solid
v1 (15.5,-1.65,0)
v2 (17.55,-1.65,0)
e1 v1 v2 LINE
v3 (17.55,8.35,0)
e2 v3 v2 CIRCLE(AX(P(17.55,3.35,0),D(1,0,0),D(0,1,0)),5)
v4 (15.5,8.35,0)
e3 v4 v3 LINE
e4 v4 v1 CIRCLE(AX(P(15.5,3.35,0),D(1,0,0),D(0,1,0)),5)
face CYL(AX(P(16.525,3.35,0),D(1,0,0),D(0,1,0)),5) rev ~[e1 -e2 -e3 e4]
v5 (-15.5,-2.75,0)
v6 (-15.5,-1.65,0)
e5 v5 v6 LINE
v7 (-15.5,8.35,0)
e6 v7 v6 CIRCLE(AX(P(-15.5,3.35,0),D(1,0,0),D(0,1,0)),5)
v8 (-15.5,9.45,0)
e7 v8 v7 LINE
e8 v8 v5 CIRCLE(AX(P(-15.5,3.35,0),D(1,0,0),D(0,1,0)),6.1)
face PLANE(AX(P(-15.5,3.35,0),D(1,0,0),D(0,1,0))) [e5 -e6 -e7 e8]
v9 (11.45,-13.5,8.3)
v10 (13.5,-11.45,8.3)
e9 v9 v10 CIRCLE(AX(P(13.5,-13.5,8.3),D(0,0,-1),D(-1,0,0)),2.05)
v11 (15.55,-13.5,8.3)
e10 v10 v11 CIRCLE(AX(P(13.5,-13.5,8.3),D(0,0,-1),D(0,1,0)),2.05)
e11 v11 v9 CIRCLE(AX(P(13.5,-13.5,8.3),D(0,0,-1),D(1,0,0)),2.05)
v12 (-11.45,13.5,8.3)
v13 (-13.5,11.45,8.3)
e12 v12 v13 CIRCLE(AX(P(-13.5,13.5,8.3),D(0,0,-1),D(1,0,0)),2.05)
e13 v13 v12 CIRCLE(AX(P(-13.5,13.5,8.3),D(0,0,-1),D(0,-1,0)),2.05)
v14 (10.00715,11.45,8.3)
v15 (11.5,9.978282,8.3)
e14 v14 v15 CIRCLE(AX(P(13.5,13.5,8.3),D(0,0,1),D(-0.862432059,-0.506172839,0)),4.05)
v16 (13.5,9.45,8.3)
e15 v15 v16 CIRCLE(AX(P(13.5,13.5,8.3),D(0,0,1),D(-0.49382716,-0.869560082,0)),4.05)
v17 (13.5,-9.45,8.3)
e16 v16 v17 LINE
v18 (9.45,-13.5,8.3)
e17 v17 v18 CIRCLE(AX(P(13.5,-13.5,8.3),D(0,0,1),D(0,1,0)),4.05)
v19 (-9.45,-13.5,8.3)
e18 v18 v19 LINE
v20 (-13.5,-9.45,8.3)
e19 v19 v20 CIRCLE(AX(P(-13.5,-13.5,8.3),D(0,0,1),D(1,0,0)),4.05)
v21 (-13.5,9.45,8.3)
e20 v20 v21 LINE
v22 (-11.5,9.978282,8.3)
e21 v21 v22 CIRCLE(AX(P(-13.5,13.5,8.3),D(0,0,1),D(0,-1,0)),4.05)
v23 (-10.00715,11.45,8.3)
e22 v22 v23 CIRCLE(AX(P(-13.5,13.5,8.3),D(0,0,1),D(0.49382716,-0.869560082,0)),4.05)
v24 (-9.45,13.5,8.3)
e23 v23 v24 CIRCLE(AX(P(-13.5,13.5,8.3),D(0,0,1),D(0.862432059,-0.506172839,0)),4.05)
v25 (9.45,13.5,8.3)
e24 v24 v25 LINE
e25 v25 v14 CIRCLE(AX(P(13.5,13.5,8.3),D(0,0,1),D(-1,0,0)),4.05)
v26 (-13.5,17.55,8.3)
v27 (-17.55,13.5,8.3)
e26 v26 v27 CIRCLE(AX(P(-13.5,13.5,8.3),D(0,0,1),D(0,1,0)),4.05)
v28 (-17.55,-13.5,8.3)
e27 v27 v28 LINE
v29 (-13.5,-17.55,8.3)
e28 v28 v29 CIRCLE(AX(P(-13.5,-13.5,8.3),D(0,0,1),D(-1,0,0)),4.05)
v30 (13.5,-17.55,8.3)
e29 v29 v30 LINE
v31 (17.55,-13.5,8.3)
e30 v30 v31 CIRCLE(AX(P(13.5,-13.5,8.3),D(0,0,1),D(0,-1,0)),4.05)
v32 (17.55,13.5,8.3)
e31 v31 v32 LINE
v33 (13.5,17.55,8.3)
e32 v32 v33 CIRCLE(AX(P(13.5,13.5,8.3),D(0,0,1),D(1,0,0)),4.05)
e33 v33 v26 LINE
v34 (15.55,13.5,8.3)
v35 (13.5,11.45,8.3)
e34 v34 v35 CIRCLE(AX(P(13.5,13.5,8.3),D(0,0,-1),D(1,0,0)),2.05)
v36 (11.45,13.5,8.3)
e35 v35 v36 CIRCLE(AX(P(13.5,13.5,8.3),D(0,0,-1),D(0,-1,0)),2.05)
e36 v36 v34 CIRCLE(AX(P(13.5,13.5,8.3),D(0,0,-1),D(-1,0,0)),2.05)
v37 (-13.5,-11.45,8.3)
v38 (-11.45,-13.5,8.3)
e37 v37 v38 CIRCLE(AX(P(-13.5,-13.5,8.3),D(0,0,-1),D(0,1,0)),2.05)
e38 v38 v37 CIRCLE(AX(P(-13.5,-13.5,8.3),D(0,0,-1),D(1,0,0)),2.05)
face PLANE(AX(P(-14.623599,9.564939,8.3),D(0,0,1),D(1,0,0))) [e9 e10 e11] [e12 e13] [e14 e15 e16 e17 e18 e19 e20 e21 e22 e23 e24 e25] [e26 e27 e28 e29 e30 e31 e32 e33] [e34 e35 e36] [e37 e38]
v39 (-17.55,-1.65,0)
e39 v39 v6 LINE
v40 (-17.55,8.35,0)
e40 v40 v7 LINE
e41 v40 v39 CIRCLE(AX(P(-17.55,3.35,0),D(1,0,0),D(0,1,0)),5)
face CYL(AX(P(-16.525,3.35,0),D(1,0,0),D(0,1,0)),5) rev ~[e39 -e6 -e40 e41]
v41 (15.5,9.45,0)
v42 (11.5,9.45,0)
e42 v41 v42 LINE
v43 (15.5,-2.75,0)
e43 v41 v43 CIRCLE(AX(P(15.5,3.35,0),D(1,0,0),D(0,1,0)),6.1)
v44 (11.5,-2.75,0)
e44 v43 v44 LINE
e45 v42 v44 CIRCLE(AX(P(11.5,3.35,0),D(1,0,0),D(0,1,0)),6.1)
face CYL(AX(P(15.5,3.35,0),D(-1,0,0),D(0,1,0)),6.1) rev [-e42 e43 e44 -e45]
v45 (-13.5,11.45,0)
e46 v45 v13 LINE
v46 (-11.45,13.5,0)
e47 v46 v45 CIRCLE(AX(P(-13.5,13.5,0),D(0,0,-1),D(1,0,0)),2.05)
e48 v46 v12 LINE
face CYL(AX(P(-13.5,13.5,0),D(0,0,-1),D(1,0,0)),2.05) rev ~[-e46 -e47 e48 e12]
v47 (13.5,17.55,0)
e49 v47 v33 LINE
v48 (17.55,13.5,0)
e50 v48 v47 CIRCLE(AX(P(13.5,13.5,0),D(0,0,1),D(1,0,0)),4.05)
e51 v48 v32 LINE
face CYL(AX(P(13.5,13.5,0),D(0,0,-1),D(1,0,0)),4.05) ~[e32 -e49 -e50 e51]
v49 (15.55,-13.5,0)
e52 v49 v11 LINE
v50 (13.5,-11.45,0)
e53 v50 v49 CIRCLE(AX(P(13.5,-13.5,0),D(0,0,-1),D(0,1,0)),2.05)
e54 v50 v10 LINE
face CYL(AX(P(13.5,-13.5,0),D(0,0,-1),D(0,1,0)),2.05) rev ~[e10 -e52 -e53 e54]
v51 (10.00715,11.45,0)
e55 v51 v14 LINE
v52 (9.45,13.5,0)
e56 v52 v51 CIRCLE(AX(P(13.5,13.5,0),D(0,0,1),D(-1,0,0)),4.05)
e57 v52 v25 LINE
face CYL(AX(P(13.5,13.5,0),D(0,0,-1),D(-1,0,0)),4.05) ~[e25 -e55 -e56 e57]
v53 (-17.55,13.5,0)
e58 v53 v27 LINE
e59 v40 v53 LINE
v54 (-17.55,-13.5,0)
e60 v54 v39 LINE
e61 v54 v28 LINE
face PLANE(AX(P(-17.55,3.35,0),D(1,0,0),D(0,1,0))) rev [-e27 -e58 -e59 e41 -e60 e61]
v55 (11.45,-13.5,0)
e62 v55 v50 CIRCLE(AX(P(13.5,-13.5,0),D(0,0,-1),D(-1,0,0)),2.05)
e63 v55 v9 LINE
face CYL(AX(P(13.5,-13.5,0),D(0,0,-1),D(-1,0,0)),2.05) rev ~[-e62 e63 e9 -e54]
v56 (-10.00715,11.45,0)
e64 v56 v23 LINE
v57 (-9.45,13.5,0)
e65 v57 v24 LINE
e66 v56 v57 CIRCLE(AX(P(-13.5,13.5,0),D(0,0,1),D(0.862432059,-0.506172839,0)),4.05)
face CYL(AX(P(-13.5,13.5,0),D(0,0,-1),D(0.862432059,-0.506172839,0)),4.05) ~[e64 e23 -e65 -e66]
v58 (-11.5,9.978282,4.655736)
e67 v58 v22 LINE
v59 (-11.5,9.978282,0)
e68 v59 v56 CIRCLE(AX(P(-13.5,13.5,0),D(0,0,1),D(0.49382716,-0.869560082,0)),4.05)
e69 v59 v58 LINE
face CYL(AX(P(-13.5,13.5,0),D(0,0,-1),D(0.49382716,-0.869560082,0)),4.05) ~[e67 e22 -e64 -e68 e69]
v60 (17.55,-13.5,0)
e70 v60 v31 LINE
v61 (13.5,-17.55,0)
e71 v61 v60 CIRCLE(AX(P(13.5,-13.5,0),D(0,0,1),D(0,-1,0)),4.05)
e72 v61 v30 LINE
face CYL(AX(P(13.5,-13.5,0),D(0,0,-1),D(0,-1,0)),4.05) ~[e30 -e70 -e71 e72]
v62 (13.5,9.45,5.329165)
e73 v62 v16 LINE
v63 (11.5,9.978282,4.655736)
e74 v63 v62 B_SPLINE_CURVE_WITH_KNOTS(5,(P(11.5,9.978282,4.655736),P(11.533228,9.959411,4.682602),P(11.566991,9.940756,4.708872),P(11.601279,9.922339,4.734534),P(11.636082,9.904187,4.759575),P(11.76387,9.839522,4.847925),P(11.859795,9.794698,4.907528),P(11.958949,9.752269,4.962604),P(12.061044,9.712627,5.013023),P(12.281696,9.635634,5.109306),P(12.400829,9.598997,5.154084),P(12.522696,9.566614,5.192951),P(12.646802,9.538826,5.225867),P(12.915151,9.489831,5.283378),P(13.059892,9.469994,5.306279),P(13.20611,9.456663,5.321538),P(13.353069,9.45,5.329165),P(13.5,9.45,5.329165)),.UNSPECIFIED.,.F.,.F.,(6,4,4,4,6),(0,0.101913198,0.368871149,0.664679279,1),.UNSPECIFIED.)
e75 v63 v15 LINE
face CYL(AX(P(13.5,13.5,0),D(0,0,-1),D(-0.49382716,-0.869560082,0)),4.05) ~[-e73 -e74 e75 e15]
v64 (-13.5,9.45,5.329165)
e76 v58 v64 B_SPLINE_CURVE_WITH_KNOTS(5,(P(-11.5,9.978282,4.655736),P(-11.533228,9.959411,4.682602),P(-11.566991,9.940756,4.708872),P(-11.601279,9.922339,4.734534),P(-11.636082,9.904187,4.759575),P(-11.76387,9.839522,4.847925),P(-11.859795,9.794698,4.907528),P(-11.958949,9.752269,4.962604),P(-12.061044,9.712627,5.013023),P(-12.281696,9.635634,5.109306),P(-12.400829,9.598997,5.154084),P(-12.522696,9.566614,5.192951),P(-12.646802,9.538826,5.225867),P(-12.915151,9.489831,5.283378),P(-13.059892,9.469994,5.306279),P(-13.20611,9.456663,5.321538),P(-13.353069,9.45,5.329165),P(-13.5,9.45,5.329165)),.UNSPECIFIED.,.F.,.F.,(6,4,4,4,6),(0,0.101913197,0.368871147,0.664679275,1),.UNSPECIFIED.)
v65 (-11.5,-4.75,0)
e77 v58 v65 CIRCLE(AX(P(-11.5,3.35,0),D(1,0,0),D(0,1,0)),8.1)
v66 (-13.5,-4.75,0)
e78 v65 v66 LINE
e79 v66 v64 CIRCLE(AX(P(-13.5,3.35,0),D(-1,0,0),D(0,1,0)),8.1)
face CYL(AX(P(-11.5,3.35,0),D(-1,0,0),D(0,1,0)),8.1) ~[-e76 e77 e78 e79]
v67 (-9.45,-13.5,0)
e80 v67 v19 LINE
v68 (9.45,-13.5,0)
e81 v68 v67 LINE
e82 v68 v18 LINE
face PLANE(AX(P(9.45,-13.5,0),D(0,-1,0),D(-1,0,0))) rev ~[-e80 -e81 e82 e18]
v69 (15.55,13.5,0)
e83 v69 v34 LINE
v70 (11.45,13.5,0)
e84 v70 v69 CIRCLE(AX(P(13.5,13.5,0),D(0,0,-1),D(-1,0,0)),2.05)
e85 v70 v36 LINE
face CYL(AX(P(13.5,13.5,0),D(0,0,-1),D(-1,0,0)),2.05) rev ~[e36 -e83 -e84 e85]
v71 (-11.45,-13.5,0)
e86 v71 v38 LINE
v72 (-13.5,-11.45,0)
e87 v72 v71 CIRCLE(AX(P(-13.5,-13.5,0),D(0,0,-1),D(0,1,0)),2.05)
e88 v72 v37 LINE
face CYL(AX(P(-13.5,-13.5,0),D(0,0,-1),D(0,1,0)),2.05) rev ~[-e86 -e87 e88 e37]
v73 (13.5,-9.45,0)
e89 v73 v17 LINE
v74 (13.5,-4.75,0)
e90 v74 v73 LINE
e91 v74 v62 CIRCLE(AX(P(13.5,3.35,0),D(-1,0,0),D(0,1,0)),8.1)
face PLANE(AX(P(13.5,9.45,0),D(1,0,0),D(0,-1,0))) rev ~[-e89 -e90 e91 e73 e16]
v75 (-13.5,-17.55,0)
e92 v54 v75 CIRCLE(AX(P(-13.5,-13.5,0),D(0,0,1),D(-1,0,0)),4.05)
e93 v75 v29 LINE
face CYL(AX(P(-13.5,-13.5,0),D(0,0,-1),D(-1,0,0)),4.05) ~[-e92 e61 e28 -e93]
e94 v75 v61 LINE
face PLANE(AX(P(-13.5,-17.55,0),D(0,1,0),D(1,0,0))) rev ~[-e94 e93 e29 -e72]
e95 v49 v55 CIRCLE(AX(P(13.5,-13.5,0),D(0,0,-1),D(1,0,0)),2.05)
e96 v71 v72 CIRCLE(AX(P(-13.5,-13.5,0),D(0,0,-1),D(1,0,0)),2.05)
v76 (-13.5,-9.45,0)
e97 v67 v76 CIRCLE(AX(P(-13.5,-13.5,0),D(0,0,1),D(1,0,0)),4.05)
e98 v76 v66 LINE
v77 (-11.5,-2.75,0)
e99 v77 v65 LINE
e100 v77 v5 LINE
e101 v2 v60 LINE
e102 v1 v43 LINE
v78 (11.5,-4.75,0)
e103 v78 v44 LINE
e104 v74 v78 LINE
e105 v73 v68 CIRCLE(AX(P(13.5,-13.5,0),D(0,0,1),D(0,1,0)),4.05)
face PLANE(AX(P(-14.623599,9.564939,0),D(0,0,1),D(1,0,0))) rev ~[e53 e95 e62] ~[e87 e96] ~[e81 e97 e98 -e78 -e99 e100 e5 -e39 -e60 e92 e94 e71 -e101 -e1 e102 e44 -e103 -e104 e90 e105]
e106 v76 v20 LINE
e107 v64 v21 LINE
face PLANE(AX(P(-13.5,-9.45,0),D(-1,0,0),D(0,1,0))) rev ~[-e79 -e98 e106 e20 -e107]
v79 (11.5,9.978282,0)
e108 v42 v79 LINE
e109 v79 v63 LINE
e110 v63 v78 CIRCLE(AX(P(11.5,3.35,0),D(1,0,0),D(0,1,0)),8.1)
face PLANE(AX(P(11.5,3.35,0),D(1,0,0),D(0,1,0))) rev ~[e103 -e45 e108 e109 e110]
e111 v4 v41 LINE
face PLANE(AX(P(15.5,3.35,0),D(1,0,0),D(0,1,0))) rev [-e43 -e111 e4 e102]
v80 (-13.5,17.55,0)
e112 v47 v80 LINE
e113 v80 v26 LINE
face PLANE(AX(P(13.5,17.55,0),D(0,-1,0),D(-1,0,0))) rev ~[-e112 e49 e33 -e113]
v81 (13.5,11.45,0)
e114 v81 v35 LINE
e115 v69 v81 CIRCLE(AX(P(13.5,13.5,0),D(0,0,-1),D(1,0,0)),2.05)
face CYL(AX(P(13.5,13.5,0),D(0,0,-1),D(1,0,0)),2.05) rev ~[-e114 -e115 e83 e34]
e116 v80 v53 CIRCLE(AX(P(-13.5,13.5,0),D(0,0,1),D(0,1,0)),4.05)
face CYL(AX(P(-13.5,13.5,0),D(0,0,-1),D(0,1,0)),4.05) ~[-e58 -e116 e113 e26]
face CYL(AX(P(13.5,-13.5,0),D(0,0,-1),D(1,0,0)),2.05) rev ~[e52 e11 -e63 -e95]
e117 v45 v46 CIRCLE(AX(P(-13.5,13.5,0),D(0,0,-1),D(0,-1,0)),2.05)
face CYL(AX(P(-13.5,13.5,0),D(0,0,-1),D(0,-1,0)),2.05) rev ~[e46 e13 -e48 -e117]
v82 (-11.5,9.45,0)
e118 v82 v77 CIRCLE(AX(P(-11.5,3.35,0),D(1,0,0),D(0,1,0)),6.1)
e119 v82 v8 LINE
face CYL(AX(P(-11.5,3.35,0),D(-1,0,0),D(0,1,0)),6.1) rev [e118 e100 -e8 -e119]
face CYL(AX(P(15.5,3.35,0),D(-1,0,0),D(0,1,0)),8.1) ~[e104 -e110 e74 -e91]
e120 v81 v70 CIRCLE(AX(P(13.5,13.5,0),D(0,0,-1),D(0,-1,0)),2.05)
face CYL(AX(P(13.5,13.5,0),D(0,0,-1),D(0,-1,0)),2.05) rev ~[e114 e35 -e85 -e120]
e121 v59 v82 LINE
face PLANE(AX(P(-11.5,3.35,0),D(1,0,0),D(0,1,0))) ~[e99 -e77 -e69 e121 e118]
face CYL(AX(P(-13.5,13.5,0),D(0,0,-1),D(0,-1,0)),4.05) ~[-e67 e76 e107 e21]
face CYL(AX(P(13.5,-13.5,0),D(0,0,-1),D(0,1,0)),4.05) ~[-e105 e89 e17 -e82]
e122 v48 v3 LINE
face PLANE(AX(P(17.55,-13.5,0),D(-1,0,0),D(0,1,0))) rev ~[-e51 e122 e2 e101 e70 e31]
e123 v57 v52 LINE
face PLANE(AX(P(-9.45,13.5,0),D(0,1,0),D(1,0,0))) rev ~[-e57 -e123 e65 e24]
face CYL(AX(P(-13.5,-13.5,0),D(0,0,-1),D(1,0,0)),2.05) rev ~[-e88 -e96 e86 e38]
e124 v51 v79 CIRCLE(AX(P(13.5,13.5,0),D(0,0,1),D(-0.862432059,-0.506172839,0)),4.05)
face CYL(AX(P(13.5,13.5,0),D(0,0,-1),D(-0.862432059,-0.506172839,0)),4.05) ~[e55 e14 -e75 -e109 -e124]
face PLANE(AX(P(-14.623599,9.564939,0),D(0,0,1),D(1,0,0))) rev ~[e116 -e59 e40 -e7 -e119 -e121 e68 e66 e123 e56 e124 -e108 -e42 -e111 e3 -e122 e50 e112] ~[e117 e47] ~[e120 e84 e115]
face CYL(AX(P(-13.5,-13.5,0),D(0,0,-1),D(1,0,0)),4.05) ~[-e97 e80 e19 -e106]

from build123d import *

# Parameters (mm, degrees)
F0_W     = 2
F0_H     = 6.1
F0_H_2   = 2
F0_W_2   = 2.05
F0_H_3   = 5
F1_DEPTH = 8.3
F2_ANGLE = 180
F3_ANGLE = 180


with BuildPart() as f1:
    # F0 (on Top) → F1 (new body)
    with BuildSketch(Plane.XY):
        with BuildLine():
            ThreePointArc((-13.5, 9.45), (-14.5342970466, 9.5842970466), (-15.5, 9.9782816694))
            Line((-15.5, 9.9782816694), (-15.5, 9.45))
            Line((-15.5, 9.45), (-13.5, 9.45))
        make_face()
        with BuildLine():
            ThreePointArc((-9.45, 13.5), (-10.6362175362, 16.3637824638), (-13.5, 17.55))
            ThreePointArc((-13.5, 17.55), (-16.3637824638, 16.3637824638), (-17.55, 13.5))
            ThreePointArc((-17.55, 13.5), (-17.0001785669, 11.4625383439), (-15.5, 9.9782816694))
            Line((-15.5, 9.9782816694), (-15.5, 11.45))
            Line((-15.5, 11.45), (-13.5, 11.45))
            ThreePointArc((-13.5, 11.45), (-14.9495689014, 14.9495689014), (-11.45, 13.5))
            Line((-11.45, 13.5), (-9.45, 13.5))
        make_face()
        with BuildLine():
            Line((-15.5, 11.45), (-15.5, 9.9782816694))
            ThreePointArc((-15.5, 9.9782816694), (-14.5342970466, 9.5842970466), (-13.5, 9.45))
            Line((-13.5, 9.45), (-13.5, 11.45))
            Line((-13.5, 11.45), (-15.5, 11.45))
        make_face()
        with BuildLine():
            ThreePointArc((-15.5, 9.9782816694), (-17.0001785669, 11.4625383439), (-17.55, 13.5))
            Line((-17.55, 13.5), (-17.55, 8.35))
            Line((-17.55, 8.35), (-15.5, 8.35))
            Line((-15.5, 8.35), (-15.5, 9.45))
            Line((-15.5, 9.45), (-15.5, 9.9782816694))
        make_face()
        with Locations((-14.5, 0.3)):
            Rectangle(F0_W, F0_H)
        with Locations((-14.5, -3.75)):
            Rectangle(F0_W, F0_H_2)
        with BuildLine():
            ThreePointArc((-13.5, -9.45), (-16.3637824638, -10.6362175362), (-17.55, -13.5))
            ThreePointArc((-17.55, -13.5), (-16.3637824638, -16.3637824638), (-13.5, -17.55))
            ThreePointArc((-13.5, -17.55), (-10.6362175362, -16.3637824638), (-9.45, -13.5))
            Line((-9.45, -13.5), (-11.45, -13.5))
            ThreePointArc((-11.45, -13.5), (-14.9495689014, -14.9495689014), (-13.5, -11.45))
            Line((-13.5, -11.45), (-13.5, -9.45))
        make_face()
        with BuildLine():
            Line((-13.5, -17.55), (13.5, -17.55))
            ThreePointArc((13.5, -17.55), (10.6362175362, -16.3637824638), (9.45, -13.5))
            Line((9.45, -13.5), (-9.45, -13.5))
            ThreePointArc((-9.45, -13.5), (-10.6362175362, -16.3637824638), (-13.5, -17.55))
        make_face()
        with BuildLine():
            ThreePointArc((-9.45, -13.5), (-10.6362175362, -10.6362175362), (-13.5, -9.45))
            Line((-13.5, -9.45), (-13.5, -11.45))
            ThreePointArc((-13.5, -11.45), (-12.0504310986, -12.0504310986), (-11.45, -13.5))
            Line((-11.45, -13.5), (-9.45, -13.5))
        make_face()
        with BuildLine():
            ThreePointArc((13.5, -17.55), (16.3637824638, -16.3637824638), (17.55, -13.5))
            ThreePointArc((17.55, -13.5), (16.3637824638, -10.6362175362), (13.5, -9.45))
            Line((13.5, -9.45), (13.5, -11.45))
            ThreePointArc((13.5, -11.45), (14.9495689014, -12.0504310986), (15.55, -13.5))
            ThreePointArc((15.55, -13.5), (13.5, -15.55), (11.45, -13.5))
            Line((11.45, -13.5), (9.45, -13.5))
            ThreePointArc((9.45, -13.5), (10.6362175362, -16.3637824638), (13.5, -17.55))
        make_face()
        with BuildLine():
            Line((13.5, -11.45), (13.5, -9.45))
            ThreePointArc((13.5, -9.45), (10.6362175362, -10.6362175362), (9.45, -13.5))
            Line((9.45, -13.5), (11.45, -13.5))
            ThreePointArc((11.45, -13.5), (12.0504310986, -12.0504310986), (13.5, -11.45))
        make_face()
        with BuildLine():
            Line((17.55, 8.35), (17.55, 13.5))
            ThreePointArc((17.55, 13.5), (17.0001785669, 11.4625383439), (15.5, 9.9782816694))
            Line((15.5, 9.9782816694), (15.5, 9.45))
            Line((15.5, 9.45), (15.5, 8.35))
            Line((15.5, 8.35), (17.55, 8.35))
        make_face()
        with Locations((14.5, -3.75)):
            Rectangle(F0_W, F0_H_2)
        with Locations((14.5, 0.3)):
            Rectangle(F0_W, F0_H)
        with BuildLine():
            Line((15.5, 9.45), (15.5, 9.9782816694))
            ThreePointArc((15.5, 9.9782816694), (14.5342970466, 9.5842970466), (13.5, 9.45))
            Line((13.5, 9.45), (15.5, 9.45))
        make_face()
        with BuildLine():
            ThreePointArc((13.5, 9.45), (14.5342970466, 9.5842970466), (15.5, 9.9782816694))
            Line((15.5, 9.9782816694), (15.5, 11.45))
            Line((15.5, 11.45), (13.5, 11.45))
            Line((13.5, 11.45), (13.5, 9.45))
        make_face()
        with BuildLine():
            ThreePointArc((11.5, 9.9782816694), (12.4657029534, 9.5842970466), (13.5, 9.45))
            Line((13.5, 9.45), (13.5, 11.45))
            Line((13.5, 11.45), (11.5, 11.45))
            Line((11.5, 11.45), (11.5, 9.9782816694))
        make_face()
        with BuildLine():
            Line((11.5, 11.45), (10.0071501607, 11.45))
            ThreePointArc((10.0071501607, 11.45), (10.6567028733, 10.6158776986), (11.5, 9.9782816694))
            Line((11.5, 9.9782816694), (11.5, 11.45))
        make_face()
        with BuildLine():
            Line((11.45, 13.5), (9.45, 13.5))
            ThreePointArc((9.45, 13.5), (9.5917688241, 12.4378187182), (10.0071501607, 11.45))
            Line((10.0071501607, 11.45), (11.5, 11.45))
            Line((11.5, 11.45), (13.5, 11.45))
            ThreePointArc((13.5, 11.45), (12.0504310986, 12.0504310986), (11.45, 13.5))
        make_face()
        with BuildLine():
            ThreePointArc((17.55, 13.5), (16.3637824638, 16.3637824638), (13.5, 17.55))
            ThreePointArc((13.5, 17.55), (10.6362175362, 16.3637824638), (9.45, 13.5))
            Line((9.45, 13.5), (11.45, 13.5))
            ThreePointArc((11.45, 13.5), (13.5, 15.55), (15.55, 13.5))
            ThreePointArc((15.55, 13.5), (14.9495689014, 12.0504310986), (13.5, 11.45))
            Line((13.5, 11.45), (15.5, 11.45))
            Line((15.5, 11.45), (15.5, 9.9782816694))
            ThreePointArc((15.5, 9.9782816694), (17.0001785669, 11.4625383439), (17.55, 13.5))
        make_face()
        with BuildLine():
            ThreePointArc((9.45, 13.5), (10.6362175362, 16.3637824638), (13.5, 17.55))
            Line((13.5, 17.55), (-13.5, 17.55))
            ThreePointArc((-13.5, 17.55), (-10.6362175362, 16.3637824638), (-9.45, 13.5))
            Line((-9.45, 13.5), (9.45, 13.5))
        make_face()
        with BuildLine():
            ThreePointArc((-10.0071501607, 11.45), (-9.5917688241, 12.4378187182), (-9.45, 13.5))
            Line((-9.45, 13.5), (-11.45, 13.5))
            ThreePointArc((-11.45, 13.5), (-12.0504310986, 12.0504310986), (-13.5, 11.45))
            Line((-13.5, 11.45), (-11.5, 11.45))
            Line((-11.5, 11.45), (-10.0071501607, 11.45))
        make_face()
        with BuildLine():
            Line((-11.5, 11.45), (-13.5, 11.45))
            Line((-13.5, 11.45), (-13.5, 9.45))
            ThreePointArc((-13.5, 9.45), (-12.4657029534, 9.5842970466), (-11.5, 9.9782816694))
            Line((-11.5, 9.9782816694), (-11.5, 11.45))
        make_face()
        with BuildLine():
            ThreePointArc((-11.5, 9.9782816694), (-10.6567028733, 10.6158776986), (-10.0071501607, 11.45))
            Line((-10.0071501607, 11.45), (-11.5, 11.45))
            Line((-11.5, 11.45), (-11.5, 9.9782816694))
        make_face()
        with BuildLine():
            Line((-15.5, 3.35), (-17.55, 3.35))
            Line((-17.55, 3.35), (-17.55, -13.5))
            ThreePointArc((-17.55, -13.5), (-16.3637824638, -10.6362175362), (-13.5, -9.45))
            Line((-13.5, -9.45), (-13.5, -4.75))
            Line((-13.5, -4.75), (-15.5, -4.75))
            Line((-15.5, -4.75), (-15.5, -2.75))
            Line((-15.5, -2.75), (-15.5, 3.35))
        make_face()
        with Locations((-16.525, 5.85)):
            Rectangle(F0_W_2, F0_H_3)
        Polygon((-15.5, 9.45), (-15.5, 8.35), (-15.5, 3.35), (-13.5, 3.35), (-13.5, 9.45), align=None)
        with Locations((16.525, 5.85)):
            Rectangle(F0_W_2, F0_H_3)
        Polygon((15.5, 3.35), (15.5, 8.35), (15.5, 9.45), (13.5, 9.45), (13.5, 3.35), align=None)
        with BuildLine():
            Line((17.55, -13.5), (17.55, 3.35))
            Line((17.55, 3.35), (15.5, 3.35))
            Line((15.5, 3.35), (15.5, -2.75))
            Line((15.5, -2.75), (15.5, -4.75))
            Line((15.5, -4.75), (13.5, -4.75))
            Line((13.5, -4.75), (13.5, -9.45))
            ThreePointArc((13.5, -9.45), (16.3637824638, -10.6362175362), (17.55, -13.5))
        make_face()
    extrude(amount=F1_DEPTH)

    # F0 (on Top) → F2 (revolve)
    with BuildSketch(Plane.XY):
        with Locations((-16.525, 5.85)):
            Rectangle(F0_W_2, F0_H_3)
        Polygon((-15.5, 9.45), (-15.5, 8.35), (-15.5, 3.35), (-13.5, 3.35), (-13.5, 9.45), align=None)
        with Locations((-12.5, 6.4)):
            Rectangle(F0_W, F0_H)
        with BuildLine():
            Line((-11.5, 11.45), (-13.5, 11.45))
            Line((-13.5, 11.45), (-13.5, 9.45))
            ThreePointArc((-13.5, 9.45), (-12.4657029534, 9.5842970466), (-11.5, 9.9782816694))
            Line((-11.5, 9.9782816694), (-11.5, 11.45))
        make_face()
        with BuildLine():
            Line((-15.5, 11.45), (-15.5, 9.9782816694))
            ThreePointArc((-15.5, 9.9782816694), (-14.5342970466, 9.5842970466), (-13.5, 9.45))
            Line((-13.5, 9.45), (-13.5, 11.45))
            Line((-13.5, 11.45), (-15.5, 11.45))
        make_face()
        with BuildLine():
            ThreePointArc((11.5, 9.9782816694), (12.4657029534, 9.5842970466), (13.5, 9.45))
            Line((13.5, 9.45), (13.5, 11.45))
            Line((13.5, 11.45), (11.5, 11.45))
            Line((11.5, 11.45), (11.5, 9.9782816694))
        make_face()
        with Locations((12.5, 6.4)):
            Rectangle(F0_W, F0_H)
        with BuildLine():
            ThreePointArc((13.5, 9.45), (14.5342970466, 9.5842970466), (15.5, 9.9782816694))
            Line((15.5, 9.9782816694), (15.5, 11.45))
            Line((15.5, 11.45), (13.5, 11.45))
            Line((13.5, 11.45), (13.5, 9.45))
        make_face()
        with BuildLine():
            Line((-11.5, 9.45), (-11.5, 9.9782816694))
            ThreePointArc((-11.5, 9.9782816694), (-12.4657029534, 9.5842970466), (-13.5, 9.45))
            Line((-13.5, 9.45), (-11.5, 9.45))
        make_face()
        with BuildLine():
            ThreePointArc((-13.5, 9.45), (-14.5342970466, 9.5842970466), (-15.5, 9.9782816694))
            Line((-15.5, 9.9782816694), (-15.5, 9.45))
            Line((-15.5, 9.45), (-13.5, 9.45))
        make_face()
        with BuildLine():
            Line((15.5, 9.45), (15.5, 9.9782816694))
            ThreePointArc((15.5, 9.9782816694), (14.5342970466, 9.5842970466), (13.5, 9.45))
            Line((13.5, 9.45), (15.5, 9.45))
        make_face()
        with BuildLine():
            Line((11.5, 9.45), (13.5, 9.45))
            ThreePointArc((13.5, 9.45), (12.4657029534, 9.5842970466), (11.5, 9.9782816694))
            Line((11.5, 9.9782816694), (11.5, 9.45))
        make_face()
        with Locations((16.525, 5.85)):
            Rectangle(F0_W_2, F0_H_3)
        Polygon((15.5, 3.35), (15.5, 8.35), (15.5, 9.45), (13.5, 9.45), (13.5, 3.35), align=None)
    revolve(axis=Axis((0, 3.35, 0), (1, 0, 0)), revolution_arc=F2_ANGLE)

    # F0 (on Top) → F3 (revolve, cut)
    with BuildSketch(Plane.XY):
        Polygon((15.5, 3.35), (15.5, 8.35), (15.5, 9.45), (13.5, 9.45), (13.5, 3.35), align=None)
        with Locations((16.525, 5.85)):
            Rectangle(F0_W_2, F0_H_3)
        with Locations((12.5, 6.4)):
            Rectangle(F0_W, F0_H)
        with Locations((-12.5, 6.4)):
            Rectangle(F0_W, F0_H)
        Polygon((-15.5, 9.45), (-15.5, 8.35), (-15.5, 3.35), (-13.5, 3.35), (-13.5, 9.45), align=None)
        with Locations((-16.525, 5.85)):
            Rectangle(F0_W_2, F0_H_3)
    revolve(axis=Axis((0, 3.35, 0), (1, 0, 0)), revolution_arc=F3_ANGLE, mode=Mode.SUBTRACT)


solid = f1.part
